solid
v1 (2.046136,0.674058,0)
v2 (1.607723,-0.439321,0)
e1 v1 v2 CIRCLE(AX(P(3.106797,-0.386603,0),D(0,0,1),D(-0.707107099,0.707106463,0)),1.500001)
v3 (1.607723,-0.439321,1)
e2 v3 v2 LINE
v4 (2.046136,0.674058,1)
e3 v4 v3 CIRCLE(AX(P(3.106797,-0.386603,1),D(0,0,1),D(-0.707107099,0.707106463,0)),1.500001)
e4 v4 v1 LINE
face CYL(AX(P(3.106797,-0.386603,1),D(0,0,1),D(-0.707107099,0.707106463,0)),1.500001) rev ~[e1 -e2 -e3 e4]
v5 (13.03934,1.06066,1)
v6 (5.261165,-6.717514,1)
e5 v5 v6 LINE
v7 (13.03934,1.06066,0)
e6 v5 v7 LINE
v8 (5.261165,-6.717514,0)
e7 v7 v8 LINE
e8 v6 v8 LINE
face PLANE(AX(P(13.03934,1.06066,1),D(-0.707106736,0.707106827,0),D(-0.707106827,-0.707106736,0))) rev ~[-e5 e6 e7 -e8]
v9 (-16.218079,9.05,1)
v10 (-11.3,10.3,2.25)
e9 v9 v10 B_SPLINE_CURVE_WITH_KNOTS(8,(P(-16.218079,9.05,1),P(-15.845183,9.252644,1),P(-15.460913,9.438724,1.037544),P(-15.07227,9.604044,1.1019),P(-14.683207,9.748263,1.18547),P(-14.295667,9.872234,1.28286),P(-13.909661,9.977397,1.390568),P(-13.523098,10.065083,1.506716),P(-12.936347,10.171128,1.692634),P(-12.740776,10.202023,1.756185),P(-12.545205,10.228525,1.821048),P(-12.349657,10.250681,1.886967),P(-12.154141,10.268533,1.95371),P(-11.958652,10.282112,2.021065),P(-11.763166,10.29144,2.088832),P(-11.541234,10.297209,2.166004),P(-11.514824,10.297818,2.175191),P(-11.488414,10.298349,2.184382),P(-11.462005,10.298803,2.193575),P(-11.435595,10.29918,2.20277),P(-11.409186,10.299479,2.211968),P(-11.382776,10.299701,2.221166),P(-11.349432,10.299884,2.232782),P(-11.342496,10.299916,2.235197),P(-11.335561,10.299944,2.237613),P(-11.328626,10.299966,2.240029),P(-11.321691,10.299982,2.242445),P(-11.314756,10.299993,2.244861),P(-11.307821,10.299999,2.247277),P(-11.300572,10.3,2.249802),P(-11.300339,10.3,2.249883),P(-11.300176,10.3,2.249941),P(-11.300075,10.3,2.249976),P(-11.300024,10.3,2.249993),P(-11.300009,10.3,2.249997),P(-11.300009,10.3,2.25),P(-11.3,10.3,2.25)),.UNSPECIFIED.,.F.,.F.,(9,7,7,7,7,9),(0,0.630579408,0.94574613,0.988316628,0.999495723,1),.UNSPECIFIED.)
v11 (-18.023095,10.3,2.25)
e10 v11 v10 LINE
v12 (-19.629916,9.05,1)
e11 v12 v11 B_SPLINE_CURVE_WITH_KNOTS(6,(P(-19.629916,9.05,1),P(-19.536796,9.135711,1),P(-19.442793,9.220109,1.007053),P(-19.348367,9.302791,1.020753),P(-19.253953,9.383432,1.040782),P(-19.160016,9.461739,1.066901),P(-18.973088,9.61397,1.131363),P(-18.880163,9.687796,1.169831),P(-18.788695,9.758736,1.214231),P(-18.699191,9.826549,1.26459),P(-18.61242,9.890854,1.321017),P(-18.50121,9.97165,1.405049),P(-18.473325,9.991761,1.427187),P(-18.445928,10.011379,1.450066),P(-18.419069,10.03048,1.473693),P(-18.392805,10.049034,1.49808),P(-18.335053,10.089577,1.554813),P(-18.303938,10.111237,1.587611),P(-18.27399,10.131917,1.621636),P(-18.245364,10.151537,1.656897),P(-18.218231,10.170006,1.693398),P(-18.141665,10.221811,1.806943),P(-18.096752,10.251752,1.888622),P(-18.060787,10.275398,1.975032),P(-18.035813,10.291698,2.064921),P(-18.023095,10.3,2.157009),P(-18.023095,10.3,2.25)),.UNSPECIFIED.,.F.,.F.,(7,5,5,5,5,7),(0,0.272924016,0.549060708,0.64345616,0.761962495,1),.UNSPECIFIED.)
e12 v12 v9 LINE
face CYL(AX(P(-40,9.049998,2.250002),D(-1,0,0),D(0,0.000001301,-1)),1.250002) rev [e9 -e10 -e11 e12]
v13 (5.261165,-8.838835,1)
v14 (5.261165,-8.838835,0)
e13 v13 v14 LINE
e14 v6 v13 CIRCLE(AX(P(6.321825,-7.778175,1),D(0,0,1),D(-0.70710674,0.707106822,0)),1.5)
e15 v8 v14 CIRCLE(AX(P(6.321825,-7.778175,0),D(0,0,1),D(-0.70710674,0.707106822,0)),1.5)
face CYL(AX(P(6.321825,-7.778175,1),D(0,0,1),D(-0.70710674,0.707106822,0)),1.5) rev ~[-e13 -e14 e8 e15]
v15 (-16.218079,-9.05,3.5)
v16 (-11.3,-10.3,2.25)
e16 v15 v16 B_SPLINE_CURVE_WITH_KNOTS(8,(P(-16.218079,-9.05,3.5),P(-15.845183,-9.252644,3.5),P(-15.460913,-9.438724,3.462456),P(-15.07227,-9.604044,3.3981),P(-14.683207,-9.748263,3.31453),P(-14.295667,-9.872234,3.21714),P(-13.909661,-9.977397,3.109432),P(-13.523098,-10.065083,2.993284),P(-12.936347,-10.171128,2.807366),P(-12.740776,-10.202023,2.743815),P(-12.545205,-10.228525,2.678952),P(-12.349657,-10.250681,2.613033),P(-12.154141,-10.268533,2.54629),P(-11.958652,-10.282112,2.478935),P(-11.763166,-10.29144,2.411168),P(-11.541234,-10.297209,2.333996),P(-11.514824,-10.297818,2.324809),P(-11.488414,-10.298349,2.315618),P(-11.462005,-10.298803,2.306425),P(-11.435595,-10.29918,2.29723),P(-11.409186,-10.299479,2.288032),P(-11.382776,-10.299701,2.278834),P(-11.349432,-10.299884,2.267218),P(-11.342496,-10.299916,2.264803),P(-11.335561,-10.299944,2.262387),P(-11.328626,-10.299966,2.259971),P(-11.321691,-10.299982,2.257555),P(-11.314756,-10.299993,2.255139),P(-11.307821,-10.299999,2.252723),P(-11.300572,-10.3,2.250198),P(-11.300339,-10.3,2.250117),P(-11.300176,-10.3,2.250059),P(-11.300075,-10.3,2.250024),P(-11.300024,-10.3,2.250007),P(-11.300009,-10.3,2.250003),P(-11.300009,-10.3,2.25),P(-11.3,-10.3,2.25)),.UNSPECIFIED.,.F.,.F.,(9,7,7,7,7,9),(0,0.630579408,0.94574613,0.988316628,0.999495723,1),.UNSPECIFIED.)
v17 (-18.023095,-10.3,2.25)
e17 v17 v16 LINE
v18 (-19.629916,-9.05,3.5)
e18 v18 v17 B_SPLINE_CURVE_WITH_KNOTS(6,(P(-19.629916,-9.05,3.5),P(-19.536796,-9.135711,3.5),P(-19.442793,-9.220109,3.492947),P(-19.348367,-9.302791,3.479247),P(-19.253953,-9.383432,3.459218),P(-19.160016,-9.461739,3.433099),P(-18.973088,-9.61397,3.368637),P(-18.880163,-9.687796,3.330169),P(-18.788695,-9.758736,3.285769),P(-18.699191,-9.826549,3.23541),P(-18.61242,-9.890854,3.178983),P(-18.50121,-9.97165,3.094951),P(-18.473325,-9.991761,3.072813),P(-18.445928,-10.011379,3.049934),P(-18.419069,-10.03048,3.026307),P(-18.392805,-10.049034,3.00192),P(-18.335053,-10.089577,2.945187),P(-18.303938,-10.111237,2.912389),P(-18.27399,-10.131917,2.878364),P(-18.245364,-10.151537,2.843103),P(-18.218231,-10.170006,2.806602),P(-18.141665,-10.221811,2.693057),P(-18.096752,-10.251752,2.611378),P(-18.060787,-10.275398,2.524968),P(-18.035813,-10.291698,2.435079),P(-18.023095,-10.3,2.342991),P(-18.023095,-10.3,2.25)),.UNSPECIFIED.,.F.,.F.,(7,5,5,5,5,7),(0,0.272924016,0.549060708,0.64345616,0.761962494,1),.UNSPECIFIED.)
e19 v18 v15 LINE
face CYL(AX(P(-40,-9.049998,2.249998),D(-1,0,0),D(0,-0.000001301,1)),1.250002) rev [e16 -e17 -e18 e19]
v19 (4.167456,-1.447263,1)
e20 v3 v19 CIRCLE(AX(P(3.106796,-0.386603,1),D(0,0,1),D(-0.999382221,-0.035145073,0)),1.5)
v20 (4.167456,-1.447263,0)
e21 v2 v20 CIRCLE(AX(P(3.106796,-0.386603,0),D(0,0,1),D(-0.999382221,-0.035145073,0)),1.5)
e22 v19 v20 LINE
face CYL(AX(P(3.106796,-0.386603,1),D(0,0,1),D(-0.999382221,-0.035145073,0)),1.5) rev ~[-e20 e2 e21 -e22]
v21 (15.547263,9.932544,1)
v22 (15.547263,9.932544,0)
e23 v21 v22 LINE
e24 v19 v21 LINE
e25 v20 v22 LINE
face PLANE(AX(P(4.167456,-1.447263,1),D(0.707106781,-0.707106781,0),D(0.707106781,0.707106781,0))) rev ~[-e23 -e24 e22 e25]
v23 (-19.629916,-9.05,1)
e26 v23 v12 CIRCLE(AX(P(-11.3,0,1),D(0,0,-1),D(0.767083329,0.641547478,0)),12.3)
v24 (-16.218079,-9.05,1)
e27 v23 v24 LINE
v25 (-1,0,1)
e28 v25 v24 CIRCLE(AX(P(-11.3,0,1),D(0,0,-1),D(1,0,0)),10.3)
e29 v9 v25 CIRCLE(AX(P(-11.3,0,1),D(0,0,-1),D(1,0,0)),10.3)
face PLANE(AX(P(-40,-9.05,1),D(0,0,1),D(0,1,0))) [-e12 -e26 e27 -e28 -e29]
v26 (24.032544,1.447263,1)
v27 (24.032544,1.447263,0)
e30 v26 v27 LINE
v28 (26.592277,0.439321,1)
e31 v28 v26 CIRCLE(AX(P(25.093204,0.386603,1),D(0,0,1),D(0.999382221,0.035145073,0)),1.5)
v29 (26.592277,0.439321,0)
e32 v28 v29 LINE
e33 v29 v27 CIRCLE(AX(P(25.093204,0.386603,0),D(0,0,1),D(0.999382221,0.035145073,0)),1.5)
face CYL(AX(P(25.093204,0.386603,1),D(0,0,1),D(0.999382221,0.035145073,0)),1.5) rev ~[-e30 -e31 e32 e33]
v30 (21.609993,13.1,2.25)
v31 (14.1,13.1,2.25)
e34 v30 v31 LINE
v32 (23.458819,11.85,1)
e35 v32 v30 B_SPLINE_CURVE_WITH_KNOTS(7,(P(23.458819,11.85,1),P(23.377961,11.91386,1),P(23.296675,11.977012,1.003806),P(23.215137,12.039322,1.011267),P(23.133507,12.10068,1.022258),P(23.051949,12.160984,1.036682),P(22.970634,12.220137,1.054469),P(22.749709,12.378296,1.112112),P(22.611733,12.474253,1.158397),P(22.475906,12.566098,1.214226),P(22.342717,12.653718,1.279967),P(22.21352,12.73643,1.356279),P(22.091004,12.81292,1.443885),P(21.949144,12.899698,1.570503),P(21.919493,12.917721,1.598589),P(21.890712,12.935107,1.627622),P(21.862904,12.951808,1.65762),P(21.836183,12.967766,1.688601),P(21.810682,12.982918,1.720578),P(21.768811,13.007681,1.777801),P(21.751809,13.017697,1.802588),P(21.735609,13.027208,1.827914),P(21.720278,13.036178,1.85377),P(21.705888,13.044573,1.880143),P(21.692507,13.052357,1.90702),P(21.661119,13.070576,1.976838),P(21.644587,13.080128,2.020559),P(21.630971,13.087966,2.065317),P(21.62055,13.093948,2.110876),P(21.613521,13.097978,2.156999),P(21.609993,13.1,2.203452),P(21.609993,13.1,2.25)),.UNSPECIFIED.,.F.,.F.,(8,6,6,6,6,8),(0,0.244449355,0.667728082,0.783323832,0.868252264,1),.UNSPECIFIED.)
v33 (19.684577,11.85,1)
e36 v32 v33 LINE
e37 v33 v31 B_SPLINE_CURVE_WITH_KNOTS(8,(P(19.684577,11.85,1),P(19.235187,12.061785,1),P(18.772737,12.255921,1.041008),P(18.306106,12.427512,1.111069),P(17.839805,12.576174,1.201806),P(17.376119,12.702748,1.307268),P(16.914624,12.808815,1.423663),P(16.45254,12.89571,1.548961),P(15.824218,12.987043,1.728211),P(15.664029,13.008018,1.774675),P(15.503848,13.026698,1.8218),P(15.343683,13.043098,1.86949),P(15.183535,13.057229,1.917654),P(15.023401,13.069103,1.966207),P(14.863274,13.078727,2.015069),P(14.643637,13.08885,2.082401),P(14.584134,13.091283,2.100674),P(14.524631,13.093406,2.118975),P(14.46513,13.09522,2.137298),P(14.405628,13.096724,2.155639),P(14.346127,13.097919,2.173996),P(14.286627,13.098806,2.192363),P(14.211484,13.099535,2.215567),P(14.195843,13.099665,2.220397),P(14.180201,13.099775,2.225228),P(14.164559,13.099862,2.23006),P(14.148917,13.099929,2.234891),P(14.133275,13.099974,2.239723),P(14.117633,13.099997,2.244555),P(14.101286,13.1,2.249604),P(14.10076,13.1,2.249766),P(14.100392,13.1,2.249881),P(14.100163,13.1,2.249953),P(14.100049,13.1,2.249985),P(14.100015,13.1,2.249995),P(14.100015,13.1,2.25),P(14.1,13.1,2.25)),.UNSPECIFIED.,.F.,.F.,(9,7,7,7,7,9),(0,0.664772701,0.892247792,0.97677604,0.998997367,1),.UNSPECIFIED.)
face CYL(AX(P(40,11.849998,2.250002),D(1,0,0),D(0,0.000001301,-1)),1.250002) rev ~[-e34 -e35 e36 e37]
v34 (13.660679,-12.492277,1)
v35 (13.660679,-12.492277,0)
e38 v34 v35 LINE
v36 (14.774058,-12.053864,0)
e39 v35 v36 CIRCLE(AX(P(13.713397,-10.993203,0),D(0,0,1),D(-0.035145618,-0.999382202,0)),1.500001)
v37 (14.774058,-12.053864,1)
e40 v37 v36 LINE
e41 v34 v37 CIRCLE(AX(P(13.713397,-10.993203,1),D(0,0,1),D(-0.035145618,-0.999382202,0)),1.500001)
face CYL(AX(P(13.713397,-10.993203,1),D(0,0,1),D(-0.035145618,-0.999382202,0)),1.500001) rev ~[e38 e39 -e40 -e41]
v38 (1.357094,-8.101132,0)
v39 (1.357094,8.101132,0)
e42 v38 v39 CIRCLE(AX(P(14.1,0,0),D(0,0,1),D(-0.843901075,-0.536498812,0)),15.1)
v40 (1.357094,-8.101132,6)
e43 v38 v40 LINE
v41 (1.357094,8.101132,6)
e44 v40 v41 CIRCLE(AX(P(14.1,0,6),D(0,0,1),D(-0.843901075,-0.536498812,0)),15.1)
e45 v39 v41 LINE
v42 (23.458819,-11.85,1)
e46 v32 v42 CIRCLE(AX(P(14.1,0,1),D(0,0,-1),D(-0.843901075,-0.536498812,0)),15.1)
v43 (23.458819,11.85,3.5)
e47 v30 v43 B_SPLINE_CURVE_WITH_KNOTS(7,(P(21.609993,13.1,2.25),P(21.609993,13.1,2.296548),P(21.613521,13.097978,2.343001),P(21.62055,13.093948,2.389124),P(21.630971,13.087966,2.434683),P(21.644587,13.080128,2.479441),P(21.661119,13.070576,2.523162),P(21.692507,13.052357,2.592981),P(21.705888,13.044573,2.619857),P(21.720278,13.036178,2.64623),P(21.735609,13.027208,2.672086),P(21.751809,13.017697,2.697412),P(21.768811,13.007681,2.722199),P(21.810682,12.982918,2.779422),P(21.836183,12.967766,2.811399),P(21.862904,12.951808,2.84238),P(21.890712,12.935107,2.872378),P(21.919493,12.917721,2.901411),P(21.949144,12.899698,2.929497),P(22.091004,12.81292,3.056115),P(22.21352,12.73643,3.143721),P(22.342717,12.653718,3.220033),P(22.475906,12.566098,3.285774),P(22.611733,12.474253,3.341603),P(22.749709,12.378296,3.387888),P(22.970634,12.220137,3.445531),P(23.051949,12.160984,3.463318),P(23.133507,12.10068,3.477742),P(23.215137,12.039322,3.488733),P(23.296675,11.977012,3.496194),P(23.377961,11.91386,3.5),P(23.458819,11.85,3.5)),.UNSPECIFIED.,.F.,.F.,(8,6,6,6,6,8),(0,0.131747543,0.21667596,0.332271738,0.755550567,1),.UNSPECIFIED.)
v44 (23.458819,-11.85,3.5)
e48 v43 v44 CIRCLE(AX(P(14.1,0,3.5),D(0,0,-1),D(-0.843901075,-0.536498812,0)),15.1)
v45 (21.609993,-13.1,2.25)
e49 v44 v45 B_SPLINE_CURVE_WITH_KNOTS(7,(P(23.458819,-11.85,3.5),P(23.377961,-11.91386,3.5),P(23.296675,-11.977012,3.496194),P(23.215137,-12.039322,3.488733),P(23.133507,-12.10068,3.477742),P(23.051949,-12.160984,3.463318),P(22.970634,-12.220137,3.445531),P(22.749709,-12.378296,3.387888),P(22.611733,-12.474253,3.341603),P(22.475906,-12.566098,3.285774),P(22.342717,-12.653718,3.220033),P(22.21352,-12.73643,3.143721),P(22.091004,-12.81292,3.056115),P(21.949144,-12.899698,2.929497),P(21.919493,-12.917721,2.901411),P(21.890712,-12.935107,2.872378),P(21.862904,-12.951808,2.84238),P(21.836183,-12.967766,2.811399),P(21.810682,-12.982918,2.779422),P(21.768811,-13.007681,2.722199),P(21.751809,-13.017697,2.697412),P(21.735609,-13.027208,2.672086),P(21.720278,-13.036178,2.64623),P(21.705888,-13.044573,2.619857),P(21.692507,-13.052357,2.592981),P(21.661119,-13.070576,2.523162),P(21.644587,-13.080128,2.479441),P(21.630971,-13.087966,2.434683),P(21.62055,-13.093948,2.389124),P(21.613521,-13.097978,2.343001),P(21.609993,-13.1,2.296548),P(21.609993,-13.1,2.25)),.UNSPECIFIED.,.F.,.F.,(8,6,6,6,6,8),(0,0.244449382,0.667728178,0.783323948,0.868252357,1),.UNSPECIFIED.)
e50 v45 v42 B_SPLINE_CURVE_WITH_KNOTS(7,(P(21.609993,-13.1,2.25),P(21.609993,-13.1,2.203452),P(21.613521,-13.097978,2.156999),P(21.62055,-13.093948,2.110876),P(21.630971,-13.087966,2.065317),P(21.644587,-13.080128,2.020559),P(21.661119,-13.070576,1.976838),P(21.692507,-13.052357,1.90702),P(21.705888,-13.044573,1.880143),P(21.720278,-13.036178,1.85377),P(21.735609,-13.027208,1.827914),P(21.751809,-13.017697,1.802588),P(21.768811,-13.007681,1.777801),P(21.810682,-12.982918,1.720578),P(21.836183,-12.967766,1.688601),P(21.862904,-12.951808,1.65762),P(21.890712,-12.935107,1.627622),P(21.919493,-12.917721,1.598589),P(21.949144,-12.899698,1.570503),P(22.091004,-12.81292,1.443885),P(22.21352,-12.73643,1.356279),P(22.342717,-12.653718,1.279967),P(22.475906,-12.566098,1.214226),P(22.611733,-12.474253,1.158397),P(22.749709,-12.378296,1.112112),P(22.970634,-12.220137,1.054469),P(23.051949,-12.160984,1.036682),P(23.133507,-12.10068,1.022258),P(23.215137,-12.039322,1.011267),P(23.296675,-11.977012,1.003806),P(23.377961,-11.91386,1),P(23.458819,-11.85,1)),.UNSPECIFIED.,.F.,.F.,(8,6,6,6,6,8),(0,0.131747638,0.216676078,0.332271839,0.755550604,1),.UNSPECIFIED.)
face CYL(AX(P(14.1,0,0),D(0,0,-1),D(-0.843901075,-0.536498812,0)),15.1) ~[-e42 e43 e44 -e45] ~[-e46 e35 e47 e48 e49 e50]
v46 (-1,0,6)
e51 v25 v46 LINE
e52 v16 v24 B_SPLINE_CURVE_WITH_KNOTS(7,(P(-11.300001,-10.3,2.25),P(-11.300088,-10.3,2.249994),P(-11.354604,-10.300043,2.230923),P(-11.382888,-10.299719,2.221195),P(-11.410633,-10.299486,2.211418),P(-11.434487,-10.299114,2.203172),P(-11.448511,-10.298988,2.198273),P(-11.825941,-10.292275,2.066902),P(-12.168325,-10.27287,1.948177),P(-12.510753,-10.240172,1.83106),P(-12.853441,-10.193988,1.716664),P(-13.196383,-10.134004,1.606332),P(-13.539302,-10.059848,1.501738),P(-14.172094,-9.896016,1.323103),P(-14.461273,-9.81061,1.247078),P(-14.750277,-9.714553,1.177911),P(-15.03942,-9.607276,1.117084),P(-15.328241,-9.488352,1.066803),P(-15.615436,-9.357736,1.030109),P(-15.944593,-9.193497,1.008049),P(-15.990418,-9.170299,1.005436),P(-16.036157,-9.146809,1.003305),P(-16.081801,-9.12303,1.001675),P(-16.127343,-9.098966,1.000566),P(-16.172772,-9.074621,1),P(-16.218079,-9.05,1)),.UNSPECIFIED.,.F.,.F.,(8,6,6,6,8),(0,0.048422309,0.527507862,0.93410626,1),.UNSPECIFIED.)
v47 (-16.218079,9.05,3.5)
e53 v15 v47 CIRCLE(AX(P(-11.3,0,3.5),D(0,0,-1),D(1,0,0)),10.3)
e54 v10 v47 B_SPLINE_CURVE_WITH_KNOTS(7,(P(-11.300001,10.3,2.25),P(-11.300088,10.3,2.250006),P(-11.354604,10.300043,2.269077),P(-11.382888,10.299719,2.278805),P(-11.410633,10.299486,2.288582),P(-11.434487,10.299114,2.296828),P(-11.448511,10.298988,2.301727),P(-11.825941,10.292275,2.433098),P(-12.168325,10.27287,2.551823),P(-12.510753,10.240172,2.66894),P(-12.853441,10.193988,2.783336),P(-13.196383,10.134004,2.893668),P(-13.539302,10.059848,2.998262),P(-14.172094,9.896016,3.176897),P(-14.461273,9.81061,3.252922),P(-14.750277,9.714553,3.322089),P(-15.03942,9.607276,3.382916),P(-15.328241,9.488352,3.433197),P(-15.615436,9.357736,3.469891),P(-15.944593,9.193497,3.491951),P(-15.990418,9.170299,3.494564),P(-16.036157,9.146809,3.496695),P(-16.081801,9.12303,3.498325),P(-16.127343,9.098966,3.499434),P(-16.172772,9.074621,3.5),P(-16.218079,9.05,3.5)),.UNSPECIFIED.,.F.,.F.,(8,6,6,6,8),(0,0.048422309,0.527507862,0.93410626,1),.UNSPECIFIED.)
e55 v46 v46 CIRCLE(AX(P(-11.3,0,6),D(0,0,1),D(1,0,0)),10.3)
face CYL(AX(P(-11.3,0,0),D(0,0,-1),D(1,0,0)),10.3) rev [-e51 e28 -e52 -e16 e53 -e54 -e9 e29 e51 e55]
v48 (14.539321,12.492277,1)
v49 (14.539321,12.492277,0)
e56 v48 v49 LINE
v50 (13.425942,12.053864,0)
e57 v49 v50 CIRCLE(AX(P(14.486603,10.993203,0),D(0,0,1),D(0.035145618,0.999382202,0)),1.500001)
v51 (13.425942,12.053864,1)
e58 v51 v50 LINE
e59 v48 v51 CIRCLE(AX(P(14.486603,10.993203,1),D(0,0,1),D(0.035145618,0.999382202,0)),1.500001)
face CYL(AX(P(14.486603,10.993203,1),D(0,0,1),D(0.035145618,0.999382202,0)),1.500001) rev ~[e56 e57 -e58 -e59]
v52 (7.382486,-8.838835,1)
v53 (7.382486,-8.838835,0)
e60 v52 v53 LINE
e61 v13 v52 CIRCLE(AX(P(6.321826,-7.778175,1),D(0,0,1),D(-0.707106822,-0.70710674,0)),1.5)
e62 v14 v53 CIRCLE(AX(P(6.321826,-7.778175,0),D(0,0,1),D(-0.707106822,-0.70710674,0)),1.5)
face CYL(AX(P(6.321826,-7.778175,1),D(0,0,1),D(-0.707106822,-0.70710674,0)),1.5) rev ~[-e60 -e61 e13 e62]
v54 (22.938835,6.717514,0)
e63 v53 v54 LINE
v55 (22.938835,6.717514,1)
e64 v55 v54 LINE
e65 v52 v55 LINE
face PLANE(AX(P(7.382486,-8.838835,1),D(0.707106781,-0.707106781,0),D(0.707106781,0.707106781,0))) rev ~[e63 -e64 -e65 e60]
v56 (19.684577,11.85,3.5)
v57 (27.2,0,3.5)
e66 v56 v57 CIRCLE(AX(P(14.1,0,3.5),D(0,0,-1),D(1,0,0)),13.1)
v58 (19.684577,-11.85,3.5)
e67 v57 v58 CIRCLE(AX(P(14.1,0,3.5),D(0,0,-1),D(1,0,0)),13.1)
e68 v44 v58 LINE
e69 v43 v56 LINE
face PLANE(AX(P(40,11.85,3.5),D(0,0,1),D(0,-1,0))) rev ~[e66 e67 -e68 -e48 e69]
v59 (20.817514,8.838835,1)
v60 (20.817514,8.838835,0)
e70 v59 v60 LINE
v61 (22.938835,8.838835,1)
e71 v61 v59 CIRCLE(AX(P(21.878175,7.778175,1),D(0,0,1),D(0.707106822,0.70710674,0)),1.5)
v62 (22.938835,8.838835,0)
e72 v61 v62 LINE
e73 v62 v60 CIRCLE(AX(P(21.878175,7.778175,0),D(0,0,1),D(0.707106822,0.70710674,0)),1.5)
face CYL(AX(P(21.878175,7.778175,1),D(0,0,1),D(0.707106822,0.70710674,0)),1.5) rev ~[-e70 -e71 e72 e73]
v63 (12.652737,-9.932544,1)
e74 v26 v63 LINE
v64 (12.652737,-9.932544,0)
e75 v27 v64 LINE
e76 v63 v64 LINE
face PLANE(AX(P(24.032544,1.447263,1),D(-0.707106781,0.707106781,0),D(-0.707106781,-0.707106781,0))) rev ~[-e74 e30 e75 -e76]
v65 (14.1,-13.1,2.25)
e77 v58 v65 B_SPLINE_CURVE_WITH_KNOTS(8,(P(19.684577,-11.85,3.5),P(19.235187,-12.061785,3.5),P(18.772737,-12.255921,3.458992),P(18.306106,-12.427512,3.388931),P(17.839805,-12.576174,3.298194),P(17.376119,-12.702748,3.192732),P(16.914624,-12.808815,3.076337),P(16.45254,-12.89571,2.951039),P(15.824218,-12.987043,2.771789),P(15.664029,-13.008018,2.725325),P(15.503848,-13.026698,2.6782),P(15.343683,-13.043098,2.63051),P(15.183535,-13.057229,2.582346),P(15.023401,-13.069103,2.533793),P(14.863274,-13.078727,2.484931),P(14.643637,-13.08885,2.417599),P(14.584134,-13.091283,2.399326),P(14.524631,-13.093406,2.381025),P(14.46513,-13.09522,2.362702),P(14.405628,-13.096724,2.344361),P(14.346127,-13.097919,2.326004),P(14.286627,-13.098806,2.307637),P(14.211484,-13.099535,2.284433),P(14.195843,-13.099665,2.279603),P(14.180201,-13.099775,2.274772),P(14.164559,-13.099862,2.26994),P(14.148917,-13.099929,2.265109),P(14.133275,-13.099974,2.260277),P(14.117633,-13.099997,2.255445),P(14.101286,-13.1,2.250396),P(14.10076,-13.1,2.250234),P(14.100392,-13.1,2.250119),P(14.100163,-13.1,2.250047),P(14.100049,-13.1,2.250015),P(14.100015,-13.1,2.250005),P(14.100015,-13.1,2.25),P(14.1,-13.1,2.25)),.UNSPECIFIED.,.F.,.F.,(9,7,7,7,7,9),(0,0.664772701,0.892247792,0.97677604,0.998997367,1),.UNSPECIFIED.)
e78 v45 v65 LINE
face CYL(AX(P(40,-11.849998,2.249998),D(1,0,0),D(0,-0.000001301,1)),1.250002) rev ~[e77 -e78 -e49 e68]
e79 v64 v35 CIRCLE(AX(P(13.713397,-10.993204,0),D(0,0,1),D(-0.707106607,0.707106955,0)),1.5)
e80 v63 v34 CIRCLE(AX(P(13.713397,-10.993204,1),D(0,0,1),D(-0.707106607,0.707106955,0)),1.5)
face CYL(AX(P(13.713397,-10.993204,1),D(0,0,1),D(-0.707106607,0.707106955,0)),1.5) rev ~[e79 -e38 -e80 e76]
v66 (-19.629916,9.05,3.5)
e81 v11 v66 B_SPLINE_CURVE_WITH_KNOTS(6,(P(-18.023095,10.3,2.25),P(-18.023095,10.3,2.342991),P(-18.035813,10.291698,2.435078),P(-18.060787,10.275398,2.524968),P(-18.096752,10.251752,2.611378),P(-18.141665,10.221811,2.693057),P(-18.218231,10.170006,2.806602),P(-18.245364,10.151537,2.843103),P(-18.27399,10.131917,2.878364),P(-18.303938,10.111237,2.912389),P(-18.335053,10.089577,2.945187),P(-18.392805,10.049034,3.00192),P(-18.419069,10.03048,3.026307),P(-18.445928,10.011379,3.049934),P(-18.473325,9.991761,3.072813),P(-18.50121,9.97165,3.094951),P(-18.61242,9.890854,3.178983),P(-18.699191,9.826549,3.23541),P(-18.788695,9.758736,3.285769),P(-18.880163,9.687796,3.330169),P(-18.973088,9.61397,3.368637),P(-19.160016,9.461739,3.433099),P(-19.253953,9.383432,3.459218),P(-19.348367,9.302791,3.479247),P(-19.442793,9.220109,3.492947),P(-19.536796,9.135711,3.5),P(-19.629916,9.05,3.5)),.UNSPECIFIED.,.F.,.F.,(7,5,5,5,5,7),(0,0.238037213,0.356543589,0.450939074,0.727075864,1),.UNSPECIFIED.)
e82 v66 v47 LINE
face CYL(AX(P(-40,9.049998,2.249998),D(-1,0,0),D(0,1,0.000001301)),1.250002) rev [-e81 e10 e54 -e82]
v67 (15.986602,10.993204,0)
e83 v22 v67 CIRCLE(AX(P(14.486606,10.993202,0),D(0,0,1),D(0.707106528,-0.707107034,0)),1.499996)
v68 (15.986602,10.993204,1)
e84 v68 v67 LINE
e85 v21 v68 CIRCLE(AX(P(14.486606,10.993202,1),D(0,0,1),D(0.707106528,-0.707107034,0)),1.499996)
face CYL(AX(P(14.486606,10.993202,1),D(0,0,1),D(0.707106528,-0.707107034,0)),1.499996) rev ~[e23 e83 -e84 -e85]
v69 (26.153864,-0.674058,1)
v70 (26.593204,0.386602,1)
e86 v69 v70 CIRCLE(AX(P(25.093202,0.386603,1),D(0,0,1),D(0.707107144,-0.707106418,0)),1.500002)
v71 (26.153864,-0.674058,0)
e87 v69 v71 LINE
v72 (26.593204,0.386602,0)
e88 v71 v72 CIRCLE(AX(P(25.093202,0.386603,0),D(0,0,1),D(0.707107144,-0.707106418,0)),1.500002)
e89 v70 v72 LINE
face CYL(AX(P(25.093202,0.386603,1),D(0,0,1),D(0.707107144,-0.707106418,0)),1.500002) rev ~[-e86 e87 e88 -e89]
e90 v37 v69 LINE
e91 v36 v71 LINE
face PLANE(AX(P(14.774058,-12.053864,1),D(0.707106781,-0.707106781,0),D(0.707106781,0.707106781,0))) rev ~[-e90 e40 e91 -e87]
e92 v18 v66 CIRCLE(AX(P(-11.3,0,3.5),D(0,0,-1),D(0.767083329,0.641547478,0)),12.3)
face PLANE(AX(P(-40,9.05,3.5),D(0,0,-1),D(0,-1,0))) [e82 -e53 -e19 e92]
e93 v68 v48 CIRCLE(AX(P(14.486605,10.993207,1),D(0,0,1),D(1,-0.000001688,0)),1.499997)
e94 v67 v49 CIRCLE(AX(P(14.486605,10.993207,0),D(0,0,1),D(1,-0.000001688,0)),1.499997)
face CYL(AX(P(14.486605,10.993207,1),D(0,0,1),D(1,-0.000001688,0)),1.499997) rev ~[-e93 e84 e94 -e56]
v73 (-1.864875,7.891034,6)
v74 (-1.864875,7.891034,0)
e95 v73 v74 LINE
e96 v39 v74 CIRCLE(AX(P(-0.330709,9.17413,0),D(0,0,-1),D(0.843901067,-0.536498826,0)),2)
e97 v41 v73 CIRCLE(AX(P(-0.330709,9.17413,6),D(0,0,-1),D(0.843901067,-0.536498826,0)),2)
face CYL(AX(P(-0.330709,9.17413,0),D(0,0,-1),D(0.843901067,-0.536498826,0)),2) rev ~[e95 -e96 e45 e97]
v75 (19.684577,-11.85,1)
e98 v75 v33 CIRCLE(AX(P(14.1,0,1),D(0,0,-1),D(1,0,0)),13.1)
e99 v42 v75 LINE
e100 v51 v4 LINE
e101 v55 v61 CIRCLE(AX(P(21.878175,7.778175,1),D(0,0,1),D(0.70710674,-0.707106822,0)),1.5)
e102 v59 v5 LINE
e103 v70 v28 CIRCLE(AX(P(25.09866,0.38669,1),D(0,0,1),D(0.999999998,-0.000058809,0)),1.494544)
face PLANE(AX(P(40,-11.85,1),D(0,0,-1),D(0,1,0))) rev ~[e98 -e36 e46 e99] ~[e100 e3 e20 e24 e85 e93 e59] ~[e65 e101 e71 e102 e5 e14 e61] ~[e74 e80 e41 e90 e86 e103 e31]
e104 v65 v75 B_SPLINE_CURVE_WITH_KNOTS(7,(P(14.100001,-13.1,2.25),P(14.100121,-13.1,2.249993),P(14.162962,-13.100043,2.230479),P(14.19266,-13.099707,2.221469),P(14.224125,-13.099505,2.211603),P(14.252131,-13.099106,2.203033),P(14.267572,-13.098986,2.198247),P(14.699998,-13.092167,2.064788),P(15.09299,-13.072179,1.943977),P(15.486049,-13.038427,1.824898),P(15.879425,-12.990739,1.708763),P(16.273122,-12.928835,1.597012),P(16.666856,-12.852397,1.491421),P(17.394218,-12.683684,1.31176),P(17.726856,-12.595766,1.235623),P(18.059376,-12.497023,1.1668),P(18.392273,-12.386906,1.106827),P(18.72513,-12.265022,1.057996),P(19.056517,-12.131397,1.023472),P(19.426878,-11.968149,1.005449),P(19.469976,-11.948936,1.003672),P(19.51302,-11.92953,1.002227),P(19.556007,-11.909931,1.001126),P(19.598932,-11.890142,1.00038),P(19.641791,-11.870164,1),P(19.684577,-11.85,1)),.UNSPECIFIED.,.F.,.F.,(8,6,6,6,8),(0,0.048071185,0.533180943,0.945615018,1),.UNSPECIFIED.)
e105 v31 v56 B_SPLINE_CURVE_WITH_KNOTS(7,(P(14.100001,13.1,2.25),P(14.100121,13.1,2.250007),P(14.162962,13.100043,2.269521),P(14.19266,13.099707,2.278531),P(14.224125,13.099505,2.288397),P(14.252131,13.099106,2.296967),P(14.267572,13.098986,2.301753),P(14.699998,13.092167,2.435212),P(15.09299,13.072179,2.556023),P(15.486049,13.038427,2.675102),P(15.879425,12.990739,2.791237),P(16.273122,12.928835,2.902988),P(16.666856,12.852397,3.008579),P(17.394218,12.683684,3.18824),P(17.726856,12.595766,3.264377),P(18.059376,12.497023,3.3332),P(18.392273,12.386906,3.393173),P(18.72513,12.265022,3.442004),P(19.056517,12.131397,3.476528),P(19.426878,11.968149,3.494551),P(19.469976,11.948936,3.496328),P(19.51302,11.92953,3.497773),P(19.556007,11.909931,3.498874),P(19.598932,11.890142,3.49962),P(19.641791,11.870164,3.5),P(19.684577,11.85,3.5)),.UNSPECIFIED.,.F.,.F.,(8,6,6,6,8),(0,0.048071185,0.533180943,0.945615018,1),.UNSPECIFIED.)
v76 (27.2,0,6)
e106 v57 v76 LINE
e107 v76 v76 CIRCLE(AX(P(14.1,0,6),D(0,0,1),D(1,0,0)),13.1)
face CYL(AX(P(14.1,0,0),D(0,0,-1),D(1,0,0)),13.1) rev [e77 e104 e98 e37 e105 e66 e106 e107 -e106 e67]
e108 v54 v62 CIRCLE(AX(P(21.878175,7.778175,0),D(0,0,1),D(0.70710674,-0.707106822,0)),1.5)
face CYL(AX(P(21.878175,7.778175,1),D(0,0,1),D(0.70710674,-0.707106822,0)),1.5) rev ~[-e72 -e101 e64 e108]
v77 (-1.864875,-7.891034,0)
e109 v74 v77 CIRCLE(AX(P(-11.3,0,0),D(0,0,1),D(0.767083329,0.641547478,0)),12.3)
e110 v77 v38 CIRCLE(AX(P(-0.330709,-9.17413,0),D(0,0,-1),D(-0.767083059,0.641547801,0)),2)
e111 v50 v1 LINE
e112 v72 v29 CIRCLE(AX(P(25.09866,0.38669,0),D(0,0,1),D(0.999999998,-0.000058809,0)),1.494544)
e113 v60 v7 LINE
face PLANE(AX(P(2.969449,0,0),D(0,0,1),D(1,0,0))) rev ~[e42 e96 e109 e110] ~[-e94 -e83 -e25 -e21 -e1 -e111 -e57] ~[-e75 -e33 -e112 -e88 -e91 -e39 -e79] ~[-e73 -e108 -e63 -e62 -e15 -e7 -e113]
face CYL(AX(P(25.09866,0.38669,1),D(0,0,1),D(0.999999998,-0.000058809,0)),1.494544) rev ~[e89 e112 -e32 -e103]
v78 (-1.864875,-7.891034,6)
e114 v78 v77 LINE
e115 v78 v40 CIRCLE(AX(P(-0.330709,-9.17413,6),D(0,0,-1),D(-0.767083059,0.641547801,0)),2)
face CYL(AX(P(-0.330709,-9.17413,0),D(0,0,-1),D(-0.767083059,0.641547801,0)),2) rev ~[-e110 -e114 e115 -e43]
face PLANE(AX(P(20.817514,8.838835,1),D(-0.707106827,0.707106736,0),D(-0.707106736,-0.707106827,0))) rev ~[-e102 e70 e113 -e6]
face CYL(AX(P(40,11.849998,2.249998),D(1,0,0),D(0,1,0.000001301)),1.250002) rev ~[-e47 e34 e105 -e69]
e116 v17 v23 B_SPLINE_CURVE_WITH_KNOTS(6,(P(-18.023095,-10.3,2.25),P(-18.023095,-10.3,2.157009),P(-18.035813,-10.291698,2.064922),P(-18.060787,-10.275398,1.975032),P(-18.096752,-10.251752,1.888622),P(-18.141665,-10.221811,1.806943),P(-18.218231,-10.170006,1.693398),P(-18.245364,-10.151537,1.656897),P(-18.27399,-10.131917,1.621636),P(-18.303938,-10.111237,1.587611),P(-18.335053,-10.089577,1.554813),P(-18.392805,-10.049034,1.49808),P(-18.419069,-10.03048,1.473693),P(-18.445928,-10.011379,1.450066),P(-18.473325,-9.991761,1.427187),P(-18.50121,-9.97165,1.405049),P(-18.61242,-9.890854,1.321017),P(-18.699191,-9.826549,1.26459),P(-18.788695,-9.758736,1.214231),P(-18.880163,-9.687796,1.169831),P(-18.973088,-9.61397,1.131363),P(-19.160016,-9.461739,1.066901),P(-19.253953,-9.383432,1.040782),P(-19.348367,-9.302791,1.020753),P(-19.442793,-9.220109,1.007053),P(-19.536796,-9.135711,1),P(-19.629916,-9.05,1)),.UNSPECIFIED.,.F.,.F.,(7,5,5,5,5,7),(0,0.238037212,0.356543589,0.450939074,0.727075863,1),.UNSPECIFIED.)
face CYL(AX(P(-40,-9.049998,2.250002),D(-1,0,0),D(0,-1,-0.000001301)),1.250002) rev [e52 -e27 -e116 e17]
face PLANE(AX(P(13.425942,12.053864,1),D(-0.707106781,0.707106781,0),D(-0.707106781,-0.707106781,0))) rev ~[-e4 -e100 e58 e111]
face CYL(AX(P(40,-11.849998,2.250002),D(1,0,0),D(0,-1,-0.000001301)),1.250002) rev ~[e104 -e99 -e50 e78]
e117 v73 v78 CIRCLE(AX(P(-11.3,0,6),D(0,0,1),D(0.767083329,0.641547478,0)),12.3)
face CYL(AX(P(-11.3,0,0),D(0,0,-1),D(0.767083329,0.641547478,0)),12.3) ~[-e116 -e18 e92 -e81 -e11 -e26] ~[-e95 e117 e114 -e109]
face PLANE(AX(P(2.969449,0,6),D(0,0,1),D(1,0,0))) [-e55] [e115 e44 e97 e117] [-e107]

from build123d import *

# Parameters (mm, degrees)
F0_R      = 10.3
F0_R_2    = 13.1
F1_DEPTH  = 1
F2_DEPTH  = 6
F5_DEPTH  = 28.7
F8_DEPTH  = 25.9
F10_DEPTH = 25


with BuildPart() as f1:
    # F0 (on Top) → F1 (new body)
    with BuildSketch(Plane.XY):
        with BuildLine():
            ThreePointArc((-1.864875, -7.891034), (-0.200569, -7.178368), (1.357094, -8.101132))
            ThreePointArc((1.357094, -8.101132), (29.2, 0), (1.357094, 8.101132))
            ThreePointArc((1.357094, 8.101132), (-0.200569, 7.178368), (-1.864875, 7.891034))
            ThreePointArc((-1.864875, 7.891034), (-23.6, 0), (-1.864875, -7.891034))
        make_face()
        with Locations((-11.3, 0)):
            Circle(F0_R, mode=Mode.SUBTRACT)
        with Locations((14.1, 0)):
            Circle(F0_R_2, mode=Mode.SUBTRACT)
        with Locations((-11.3, 0)):
            Circle(F0_R)
        with Locations((14.1, 0)):
            Circle(F0_R_2)
    extrude(amount=F1_DEPTH)

    # F0 (on Top) → F2 (join)
    with BuildSketch(Plane.XY):
        with BuildLine():
            ThreePointArc((-1.864875, -7.891034), (-0.200569, -7.178368), (1.357094, -8.101132))
            ThreePointArc((1.357094, -8.101132), (29.2, 0), (1.357094, 8.101132))
            ThreePointArc((1.357094, 8.101132), (-0.200569, 7.178368), (-1.864875, 7.891034))
            ThreePointArc((-1.864875, 7.891034), (-23.6, 0), (-1.864875, -7.891034))
        make_face()
        with Locations((-11.3, 0)):
            Circle(F0_R, mode=Mode.SUBTRACT)
        with Locations((14.1, 0)):
            Circle(F0_R_2, mode=Mode.SUBTRACT)
    extrude(amount=F2_DEPTH)

    # F4 (on offset) → F5 (cut)
    with BuildSketch(Plane.YZ.offset(-40)):
        with BuildLine():
            ThreePointArc((10.3, 2.25), (9.933883, 3.133883), (9.05, 3.5))
            Line((9.05, 3.5), (-9.05, 3.5))
            ThreePointArc((-9.05, 3.5), (-9.933883, 3.133883), (-10.3, 2.25))
            ThreePointArc((-10.3, 2.25), (-9.933883, 1.366117), (-9.05, 1))
            Line((-9.05, 1), (9.05, 1))
            ThreePointArc((9.05, 1), (9.933883, 1.366117), (10.3, 2.25))
        make_face()
    extrude(amount=F5_DEPTH, mode=Mode.SUBTRACT)

    # F7 (on offset) → F8 (cut)
    with BuildSketch(Plane.YZ.offset(40)):
        with BuildLine():
            Line((11.85, 3.5), (-11.85, 3.5))
            ThreePointArc((-11.85, 3.5), (-12.733883, 3.133883), (-13.1, 2.25))
            ThreePointArc((-13.1, 2.25), (-12.733883, 1.366117), (-11.85, 1))
            Line((-11.85, 1), (11.85, 1))
            ThreePointArc((11.85, 1), (12.733883, 1.366117), (13.1, 2.25))
            ThreePointArc((13.1, 2.25), (12.733883, 3.133883), (11.85, 3.5))
        make_face()
    extrude(amount=-F8_DEPTH, mode=Mode.SUBTRACT)

    # F9 (on face) → F10 (cut)
    with BuildSketch(Plane.XY.offset(1)):
        with BuildLine():
            ThreePointArc((15.547263, 9.932544), (13.425942, 9.932544), (13.425942, 12.053864))
            Line((13.425942, 12.053864), (2.046136, 0.674058))
            ThreePointArc((2.046136, 0.674058), (3.680821, 0.999217), (4.606796, -0.386602))
            ThreePointArc((4.606796, -0.386602), (4.492615, -0.960628), (4.167456, -1.447263))
            Line((4.167456, -1.447263), (15.547263, 9.932544))
        make_face()
        with BuildLine():
            ThreePointArc((15.986602, 10.993204), (15.565741, 12.035059), (14.539321, 12.492277))
            ThreePointArc((14.539321, 12.492277), (13.937023, 12.388898), (13.425942, 12.053864))
            ThreePointArc((13.425942, 12.053864), (13.425942, 9.932544), (15.547263, 9.932544))
            ThreePointArc((15.547263, 9.932544), (15.872422, 10.419179), (15.986602, 10.993204))
        make_face()
        with BuildLine():
            ThreePointArc((2.046136, 0.674058), (1.711102, 0.162977), (1.607723, -0.439321))
            ThreePointArc((1.607723, -0.439321), (2.557216, -1.782297), (4.167456, -1.447263))
            ThreePointArc((4.167456, -1.447263), (4.492615, -0.960628), (4.606796, -0.386602))
            ThreePointArc((4.606796, -0.386602), (3.680821, 0.999217), (2.046136, 0.674058))
        make_face()
        with BuildLine():
            ThreePointArc((22.938835, 6.717514), (23.378175, 7.778175), (22.938835, 8.838835))
            ThreePointArc((22.938835, 8.838835), (21.878175, 9.278175), (20.817514, 8.838835))
            Line((20.817514, 8.838835), (13.03934, 1.06066))
            Line((13.03934, 1.06066), (5.261165, -6.717514))
            ThreePointArc((5.261165, -6.717514), (4.821825, -7.778175), (5.261165, -8.838835))
            ThreePointArc((5.261165, -8.838835), (6.321825, -9.278175), (7.382486, -8.838835))
            Line((7.382486, -8.838835), (22.938835, 6.717514))
        make_face()
        with BuildLine():
            ThreePointArc((26.153864, -0.674058), (24.032544, -0.674058), (24.032544, 1.447263))
            Line((24.032544, 1.447263), (12.652737, -9.932544))
            ThreePointArc((12.652737, -9.932544), (14.287423, -9.607385), (15.213398, -10.993204))
            ThreePointArc((15.213398, -10.993204), (15.099217, -11.567229), (14.774058, -12.053864))
            Line((14.774058, -12.053864), (26.153864, -0.674058))
        make_face()
        with BuildLine():
            ThreePointArc((12.652737, -9.932544), (12.317703, -11.542784), (13.660679, -12.492277))
            ThreePointArc((13.660679, -12.492277), (14.262977, -12.388898), (14.774058, -12.053864))
            ThreePointArc((14.774058, -12.053864), (15.099217, -11.567229), (15.213398, -10.993204))
            ThreePointArc((15.213398, -10.993204), (14.287423, -9.607385), (12.652737, -9.932544))
        make_face()
        with BuildLine():
            ThreePointArc((26.593204, 0.386602), (26.592973, 0.412966), (26.592277, 0.439321))
            ThreePointArc((26.592277, 0.439321), (25.642784, 1.782297), (24.032544, 1.447263))
            ThreePointArc((24.032544, 1.447263), (24.032544, -0.674058), (26.153864, -0.674058))
            ThreePointArc((26.153864, -0.674058), (26.479023, -0.187423), (26.593204, 0.386602))
        make_face()
    extrude(amount=-F10_DEPTH, mode=Mode.SUBTRACT)


solid = f1.part
